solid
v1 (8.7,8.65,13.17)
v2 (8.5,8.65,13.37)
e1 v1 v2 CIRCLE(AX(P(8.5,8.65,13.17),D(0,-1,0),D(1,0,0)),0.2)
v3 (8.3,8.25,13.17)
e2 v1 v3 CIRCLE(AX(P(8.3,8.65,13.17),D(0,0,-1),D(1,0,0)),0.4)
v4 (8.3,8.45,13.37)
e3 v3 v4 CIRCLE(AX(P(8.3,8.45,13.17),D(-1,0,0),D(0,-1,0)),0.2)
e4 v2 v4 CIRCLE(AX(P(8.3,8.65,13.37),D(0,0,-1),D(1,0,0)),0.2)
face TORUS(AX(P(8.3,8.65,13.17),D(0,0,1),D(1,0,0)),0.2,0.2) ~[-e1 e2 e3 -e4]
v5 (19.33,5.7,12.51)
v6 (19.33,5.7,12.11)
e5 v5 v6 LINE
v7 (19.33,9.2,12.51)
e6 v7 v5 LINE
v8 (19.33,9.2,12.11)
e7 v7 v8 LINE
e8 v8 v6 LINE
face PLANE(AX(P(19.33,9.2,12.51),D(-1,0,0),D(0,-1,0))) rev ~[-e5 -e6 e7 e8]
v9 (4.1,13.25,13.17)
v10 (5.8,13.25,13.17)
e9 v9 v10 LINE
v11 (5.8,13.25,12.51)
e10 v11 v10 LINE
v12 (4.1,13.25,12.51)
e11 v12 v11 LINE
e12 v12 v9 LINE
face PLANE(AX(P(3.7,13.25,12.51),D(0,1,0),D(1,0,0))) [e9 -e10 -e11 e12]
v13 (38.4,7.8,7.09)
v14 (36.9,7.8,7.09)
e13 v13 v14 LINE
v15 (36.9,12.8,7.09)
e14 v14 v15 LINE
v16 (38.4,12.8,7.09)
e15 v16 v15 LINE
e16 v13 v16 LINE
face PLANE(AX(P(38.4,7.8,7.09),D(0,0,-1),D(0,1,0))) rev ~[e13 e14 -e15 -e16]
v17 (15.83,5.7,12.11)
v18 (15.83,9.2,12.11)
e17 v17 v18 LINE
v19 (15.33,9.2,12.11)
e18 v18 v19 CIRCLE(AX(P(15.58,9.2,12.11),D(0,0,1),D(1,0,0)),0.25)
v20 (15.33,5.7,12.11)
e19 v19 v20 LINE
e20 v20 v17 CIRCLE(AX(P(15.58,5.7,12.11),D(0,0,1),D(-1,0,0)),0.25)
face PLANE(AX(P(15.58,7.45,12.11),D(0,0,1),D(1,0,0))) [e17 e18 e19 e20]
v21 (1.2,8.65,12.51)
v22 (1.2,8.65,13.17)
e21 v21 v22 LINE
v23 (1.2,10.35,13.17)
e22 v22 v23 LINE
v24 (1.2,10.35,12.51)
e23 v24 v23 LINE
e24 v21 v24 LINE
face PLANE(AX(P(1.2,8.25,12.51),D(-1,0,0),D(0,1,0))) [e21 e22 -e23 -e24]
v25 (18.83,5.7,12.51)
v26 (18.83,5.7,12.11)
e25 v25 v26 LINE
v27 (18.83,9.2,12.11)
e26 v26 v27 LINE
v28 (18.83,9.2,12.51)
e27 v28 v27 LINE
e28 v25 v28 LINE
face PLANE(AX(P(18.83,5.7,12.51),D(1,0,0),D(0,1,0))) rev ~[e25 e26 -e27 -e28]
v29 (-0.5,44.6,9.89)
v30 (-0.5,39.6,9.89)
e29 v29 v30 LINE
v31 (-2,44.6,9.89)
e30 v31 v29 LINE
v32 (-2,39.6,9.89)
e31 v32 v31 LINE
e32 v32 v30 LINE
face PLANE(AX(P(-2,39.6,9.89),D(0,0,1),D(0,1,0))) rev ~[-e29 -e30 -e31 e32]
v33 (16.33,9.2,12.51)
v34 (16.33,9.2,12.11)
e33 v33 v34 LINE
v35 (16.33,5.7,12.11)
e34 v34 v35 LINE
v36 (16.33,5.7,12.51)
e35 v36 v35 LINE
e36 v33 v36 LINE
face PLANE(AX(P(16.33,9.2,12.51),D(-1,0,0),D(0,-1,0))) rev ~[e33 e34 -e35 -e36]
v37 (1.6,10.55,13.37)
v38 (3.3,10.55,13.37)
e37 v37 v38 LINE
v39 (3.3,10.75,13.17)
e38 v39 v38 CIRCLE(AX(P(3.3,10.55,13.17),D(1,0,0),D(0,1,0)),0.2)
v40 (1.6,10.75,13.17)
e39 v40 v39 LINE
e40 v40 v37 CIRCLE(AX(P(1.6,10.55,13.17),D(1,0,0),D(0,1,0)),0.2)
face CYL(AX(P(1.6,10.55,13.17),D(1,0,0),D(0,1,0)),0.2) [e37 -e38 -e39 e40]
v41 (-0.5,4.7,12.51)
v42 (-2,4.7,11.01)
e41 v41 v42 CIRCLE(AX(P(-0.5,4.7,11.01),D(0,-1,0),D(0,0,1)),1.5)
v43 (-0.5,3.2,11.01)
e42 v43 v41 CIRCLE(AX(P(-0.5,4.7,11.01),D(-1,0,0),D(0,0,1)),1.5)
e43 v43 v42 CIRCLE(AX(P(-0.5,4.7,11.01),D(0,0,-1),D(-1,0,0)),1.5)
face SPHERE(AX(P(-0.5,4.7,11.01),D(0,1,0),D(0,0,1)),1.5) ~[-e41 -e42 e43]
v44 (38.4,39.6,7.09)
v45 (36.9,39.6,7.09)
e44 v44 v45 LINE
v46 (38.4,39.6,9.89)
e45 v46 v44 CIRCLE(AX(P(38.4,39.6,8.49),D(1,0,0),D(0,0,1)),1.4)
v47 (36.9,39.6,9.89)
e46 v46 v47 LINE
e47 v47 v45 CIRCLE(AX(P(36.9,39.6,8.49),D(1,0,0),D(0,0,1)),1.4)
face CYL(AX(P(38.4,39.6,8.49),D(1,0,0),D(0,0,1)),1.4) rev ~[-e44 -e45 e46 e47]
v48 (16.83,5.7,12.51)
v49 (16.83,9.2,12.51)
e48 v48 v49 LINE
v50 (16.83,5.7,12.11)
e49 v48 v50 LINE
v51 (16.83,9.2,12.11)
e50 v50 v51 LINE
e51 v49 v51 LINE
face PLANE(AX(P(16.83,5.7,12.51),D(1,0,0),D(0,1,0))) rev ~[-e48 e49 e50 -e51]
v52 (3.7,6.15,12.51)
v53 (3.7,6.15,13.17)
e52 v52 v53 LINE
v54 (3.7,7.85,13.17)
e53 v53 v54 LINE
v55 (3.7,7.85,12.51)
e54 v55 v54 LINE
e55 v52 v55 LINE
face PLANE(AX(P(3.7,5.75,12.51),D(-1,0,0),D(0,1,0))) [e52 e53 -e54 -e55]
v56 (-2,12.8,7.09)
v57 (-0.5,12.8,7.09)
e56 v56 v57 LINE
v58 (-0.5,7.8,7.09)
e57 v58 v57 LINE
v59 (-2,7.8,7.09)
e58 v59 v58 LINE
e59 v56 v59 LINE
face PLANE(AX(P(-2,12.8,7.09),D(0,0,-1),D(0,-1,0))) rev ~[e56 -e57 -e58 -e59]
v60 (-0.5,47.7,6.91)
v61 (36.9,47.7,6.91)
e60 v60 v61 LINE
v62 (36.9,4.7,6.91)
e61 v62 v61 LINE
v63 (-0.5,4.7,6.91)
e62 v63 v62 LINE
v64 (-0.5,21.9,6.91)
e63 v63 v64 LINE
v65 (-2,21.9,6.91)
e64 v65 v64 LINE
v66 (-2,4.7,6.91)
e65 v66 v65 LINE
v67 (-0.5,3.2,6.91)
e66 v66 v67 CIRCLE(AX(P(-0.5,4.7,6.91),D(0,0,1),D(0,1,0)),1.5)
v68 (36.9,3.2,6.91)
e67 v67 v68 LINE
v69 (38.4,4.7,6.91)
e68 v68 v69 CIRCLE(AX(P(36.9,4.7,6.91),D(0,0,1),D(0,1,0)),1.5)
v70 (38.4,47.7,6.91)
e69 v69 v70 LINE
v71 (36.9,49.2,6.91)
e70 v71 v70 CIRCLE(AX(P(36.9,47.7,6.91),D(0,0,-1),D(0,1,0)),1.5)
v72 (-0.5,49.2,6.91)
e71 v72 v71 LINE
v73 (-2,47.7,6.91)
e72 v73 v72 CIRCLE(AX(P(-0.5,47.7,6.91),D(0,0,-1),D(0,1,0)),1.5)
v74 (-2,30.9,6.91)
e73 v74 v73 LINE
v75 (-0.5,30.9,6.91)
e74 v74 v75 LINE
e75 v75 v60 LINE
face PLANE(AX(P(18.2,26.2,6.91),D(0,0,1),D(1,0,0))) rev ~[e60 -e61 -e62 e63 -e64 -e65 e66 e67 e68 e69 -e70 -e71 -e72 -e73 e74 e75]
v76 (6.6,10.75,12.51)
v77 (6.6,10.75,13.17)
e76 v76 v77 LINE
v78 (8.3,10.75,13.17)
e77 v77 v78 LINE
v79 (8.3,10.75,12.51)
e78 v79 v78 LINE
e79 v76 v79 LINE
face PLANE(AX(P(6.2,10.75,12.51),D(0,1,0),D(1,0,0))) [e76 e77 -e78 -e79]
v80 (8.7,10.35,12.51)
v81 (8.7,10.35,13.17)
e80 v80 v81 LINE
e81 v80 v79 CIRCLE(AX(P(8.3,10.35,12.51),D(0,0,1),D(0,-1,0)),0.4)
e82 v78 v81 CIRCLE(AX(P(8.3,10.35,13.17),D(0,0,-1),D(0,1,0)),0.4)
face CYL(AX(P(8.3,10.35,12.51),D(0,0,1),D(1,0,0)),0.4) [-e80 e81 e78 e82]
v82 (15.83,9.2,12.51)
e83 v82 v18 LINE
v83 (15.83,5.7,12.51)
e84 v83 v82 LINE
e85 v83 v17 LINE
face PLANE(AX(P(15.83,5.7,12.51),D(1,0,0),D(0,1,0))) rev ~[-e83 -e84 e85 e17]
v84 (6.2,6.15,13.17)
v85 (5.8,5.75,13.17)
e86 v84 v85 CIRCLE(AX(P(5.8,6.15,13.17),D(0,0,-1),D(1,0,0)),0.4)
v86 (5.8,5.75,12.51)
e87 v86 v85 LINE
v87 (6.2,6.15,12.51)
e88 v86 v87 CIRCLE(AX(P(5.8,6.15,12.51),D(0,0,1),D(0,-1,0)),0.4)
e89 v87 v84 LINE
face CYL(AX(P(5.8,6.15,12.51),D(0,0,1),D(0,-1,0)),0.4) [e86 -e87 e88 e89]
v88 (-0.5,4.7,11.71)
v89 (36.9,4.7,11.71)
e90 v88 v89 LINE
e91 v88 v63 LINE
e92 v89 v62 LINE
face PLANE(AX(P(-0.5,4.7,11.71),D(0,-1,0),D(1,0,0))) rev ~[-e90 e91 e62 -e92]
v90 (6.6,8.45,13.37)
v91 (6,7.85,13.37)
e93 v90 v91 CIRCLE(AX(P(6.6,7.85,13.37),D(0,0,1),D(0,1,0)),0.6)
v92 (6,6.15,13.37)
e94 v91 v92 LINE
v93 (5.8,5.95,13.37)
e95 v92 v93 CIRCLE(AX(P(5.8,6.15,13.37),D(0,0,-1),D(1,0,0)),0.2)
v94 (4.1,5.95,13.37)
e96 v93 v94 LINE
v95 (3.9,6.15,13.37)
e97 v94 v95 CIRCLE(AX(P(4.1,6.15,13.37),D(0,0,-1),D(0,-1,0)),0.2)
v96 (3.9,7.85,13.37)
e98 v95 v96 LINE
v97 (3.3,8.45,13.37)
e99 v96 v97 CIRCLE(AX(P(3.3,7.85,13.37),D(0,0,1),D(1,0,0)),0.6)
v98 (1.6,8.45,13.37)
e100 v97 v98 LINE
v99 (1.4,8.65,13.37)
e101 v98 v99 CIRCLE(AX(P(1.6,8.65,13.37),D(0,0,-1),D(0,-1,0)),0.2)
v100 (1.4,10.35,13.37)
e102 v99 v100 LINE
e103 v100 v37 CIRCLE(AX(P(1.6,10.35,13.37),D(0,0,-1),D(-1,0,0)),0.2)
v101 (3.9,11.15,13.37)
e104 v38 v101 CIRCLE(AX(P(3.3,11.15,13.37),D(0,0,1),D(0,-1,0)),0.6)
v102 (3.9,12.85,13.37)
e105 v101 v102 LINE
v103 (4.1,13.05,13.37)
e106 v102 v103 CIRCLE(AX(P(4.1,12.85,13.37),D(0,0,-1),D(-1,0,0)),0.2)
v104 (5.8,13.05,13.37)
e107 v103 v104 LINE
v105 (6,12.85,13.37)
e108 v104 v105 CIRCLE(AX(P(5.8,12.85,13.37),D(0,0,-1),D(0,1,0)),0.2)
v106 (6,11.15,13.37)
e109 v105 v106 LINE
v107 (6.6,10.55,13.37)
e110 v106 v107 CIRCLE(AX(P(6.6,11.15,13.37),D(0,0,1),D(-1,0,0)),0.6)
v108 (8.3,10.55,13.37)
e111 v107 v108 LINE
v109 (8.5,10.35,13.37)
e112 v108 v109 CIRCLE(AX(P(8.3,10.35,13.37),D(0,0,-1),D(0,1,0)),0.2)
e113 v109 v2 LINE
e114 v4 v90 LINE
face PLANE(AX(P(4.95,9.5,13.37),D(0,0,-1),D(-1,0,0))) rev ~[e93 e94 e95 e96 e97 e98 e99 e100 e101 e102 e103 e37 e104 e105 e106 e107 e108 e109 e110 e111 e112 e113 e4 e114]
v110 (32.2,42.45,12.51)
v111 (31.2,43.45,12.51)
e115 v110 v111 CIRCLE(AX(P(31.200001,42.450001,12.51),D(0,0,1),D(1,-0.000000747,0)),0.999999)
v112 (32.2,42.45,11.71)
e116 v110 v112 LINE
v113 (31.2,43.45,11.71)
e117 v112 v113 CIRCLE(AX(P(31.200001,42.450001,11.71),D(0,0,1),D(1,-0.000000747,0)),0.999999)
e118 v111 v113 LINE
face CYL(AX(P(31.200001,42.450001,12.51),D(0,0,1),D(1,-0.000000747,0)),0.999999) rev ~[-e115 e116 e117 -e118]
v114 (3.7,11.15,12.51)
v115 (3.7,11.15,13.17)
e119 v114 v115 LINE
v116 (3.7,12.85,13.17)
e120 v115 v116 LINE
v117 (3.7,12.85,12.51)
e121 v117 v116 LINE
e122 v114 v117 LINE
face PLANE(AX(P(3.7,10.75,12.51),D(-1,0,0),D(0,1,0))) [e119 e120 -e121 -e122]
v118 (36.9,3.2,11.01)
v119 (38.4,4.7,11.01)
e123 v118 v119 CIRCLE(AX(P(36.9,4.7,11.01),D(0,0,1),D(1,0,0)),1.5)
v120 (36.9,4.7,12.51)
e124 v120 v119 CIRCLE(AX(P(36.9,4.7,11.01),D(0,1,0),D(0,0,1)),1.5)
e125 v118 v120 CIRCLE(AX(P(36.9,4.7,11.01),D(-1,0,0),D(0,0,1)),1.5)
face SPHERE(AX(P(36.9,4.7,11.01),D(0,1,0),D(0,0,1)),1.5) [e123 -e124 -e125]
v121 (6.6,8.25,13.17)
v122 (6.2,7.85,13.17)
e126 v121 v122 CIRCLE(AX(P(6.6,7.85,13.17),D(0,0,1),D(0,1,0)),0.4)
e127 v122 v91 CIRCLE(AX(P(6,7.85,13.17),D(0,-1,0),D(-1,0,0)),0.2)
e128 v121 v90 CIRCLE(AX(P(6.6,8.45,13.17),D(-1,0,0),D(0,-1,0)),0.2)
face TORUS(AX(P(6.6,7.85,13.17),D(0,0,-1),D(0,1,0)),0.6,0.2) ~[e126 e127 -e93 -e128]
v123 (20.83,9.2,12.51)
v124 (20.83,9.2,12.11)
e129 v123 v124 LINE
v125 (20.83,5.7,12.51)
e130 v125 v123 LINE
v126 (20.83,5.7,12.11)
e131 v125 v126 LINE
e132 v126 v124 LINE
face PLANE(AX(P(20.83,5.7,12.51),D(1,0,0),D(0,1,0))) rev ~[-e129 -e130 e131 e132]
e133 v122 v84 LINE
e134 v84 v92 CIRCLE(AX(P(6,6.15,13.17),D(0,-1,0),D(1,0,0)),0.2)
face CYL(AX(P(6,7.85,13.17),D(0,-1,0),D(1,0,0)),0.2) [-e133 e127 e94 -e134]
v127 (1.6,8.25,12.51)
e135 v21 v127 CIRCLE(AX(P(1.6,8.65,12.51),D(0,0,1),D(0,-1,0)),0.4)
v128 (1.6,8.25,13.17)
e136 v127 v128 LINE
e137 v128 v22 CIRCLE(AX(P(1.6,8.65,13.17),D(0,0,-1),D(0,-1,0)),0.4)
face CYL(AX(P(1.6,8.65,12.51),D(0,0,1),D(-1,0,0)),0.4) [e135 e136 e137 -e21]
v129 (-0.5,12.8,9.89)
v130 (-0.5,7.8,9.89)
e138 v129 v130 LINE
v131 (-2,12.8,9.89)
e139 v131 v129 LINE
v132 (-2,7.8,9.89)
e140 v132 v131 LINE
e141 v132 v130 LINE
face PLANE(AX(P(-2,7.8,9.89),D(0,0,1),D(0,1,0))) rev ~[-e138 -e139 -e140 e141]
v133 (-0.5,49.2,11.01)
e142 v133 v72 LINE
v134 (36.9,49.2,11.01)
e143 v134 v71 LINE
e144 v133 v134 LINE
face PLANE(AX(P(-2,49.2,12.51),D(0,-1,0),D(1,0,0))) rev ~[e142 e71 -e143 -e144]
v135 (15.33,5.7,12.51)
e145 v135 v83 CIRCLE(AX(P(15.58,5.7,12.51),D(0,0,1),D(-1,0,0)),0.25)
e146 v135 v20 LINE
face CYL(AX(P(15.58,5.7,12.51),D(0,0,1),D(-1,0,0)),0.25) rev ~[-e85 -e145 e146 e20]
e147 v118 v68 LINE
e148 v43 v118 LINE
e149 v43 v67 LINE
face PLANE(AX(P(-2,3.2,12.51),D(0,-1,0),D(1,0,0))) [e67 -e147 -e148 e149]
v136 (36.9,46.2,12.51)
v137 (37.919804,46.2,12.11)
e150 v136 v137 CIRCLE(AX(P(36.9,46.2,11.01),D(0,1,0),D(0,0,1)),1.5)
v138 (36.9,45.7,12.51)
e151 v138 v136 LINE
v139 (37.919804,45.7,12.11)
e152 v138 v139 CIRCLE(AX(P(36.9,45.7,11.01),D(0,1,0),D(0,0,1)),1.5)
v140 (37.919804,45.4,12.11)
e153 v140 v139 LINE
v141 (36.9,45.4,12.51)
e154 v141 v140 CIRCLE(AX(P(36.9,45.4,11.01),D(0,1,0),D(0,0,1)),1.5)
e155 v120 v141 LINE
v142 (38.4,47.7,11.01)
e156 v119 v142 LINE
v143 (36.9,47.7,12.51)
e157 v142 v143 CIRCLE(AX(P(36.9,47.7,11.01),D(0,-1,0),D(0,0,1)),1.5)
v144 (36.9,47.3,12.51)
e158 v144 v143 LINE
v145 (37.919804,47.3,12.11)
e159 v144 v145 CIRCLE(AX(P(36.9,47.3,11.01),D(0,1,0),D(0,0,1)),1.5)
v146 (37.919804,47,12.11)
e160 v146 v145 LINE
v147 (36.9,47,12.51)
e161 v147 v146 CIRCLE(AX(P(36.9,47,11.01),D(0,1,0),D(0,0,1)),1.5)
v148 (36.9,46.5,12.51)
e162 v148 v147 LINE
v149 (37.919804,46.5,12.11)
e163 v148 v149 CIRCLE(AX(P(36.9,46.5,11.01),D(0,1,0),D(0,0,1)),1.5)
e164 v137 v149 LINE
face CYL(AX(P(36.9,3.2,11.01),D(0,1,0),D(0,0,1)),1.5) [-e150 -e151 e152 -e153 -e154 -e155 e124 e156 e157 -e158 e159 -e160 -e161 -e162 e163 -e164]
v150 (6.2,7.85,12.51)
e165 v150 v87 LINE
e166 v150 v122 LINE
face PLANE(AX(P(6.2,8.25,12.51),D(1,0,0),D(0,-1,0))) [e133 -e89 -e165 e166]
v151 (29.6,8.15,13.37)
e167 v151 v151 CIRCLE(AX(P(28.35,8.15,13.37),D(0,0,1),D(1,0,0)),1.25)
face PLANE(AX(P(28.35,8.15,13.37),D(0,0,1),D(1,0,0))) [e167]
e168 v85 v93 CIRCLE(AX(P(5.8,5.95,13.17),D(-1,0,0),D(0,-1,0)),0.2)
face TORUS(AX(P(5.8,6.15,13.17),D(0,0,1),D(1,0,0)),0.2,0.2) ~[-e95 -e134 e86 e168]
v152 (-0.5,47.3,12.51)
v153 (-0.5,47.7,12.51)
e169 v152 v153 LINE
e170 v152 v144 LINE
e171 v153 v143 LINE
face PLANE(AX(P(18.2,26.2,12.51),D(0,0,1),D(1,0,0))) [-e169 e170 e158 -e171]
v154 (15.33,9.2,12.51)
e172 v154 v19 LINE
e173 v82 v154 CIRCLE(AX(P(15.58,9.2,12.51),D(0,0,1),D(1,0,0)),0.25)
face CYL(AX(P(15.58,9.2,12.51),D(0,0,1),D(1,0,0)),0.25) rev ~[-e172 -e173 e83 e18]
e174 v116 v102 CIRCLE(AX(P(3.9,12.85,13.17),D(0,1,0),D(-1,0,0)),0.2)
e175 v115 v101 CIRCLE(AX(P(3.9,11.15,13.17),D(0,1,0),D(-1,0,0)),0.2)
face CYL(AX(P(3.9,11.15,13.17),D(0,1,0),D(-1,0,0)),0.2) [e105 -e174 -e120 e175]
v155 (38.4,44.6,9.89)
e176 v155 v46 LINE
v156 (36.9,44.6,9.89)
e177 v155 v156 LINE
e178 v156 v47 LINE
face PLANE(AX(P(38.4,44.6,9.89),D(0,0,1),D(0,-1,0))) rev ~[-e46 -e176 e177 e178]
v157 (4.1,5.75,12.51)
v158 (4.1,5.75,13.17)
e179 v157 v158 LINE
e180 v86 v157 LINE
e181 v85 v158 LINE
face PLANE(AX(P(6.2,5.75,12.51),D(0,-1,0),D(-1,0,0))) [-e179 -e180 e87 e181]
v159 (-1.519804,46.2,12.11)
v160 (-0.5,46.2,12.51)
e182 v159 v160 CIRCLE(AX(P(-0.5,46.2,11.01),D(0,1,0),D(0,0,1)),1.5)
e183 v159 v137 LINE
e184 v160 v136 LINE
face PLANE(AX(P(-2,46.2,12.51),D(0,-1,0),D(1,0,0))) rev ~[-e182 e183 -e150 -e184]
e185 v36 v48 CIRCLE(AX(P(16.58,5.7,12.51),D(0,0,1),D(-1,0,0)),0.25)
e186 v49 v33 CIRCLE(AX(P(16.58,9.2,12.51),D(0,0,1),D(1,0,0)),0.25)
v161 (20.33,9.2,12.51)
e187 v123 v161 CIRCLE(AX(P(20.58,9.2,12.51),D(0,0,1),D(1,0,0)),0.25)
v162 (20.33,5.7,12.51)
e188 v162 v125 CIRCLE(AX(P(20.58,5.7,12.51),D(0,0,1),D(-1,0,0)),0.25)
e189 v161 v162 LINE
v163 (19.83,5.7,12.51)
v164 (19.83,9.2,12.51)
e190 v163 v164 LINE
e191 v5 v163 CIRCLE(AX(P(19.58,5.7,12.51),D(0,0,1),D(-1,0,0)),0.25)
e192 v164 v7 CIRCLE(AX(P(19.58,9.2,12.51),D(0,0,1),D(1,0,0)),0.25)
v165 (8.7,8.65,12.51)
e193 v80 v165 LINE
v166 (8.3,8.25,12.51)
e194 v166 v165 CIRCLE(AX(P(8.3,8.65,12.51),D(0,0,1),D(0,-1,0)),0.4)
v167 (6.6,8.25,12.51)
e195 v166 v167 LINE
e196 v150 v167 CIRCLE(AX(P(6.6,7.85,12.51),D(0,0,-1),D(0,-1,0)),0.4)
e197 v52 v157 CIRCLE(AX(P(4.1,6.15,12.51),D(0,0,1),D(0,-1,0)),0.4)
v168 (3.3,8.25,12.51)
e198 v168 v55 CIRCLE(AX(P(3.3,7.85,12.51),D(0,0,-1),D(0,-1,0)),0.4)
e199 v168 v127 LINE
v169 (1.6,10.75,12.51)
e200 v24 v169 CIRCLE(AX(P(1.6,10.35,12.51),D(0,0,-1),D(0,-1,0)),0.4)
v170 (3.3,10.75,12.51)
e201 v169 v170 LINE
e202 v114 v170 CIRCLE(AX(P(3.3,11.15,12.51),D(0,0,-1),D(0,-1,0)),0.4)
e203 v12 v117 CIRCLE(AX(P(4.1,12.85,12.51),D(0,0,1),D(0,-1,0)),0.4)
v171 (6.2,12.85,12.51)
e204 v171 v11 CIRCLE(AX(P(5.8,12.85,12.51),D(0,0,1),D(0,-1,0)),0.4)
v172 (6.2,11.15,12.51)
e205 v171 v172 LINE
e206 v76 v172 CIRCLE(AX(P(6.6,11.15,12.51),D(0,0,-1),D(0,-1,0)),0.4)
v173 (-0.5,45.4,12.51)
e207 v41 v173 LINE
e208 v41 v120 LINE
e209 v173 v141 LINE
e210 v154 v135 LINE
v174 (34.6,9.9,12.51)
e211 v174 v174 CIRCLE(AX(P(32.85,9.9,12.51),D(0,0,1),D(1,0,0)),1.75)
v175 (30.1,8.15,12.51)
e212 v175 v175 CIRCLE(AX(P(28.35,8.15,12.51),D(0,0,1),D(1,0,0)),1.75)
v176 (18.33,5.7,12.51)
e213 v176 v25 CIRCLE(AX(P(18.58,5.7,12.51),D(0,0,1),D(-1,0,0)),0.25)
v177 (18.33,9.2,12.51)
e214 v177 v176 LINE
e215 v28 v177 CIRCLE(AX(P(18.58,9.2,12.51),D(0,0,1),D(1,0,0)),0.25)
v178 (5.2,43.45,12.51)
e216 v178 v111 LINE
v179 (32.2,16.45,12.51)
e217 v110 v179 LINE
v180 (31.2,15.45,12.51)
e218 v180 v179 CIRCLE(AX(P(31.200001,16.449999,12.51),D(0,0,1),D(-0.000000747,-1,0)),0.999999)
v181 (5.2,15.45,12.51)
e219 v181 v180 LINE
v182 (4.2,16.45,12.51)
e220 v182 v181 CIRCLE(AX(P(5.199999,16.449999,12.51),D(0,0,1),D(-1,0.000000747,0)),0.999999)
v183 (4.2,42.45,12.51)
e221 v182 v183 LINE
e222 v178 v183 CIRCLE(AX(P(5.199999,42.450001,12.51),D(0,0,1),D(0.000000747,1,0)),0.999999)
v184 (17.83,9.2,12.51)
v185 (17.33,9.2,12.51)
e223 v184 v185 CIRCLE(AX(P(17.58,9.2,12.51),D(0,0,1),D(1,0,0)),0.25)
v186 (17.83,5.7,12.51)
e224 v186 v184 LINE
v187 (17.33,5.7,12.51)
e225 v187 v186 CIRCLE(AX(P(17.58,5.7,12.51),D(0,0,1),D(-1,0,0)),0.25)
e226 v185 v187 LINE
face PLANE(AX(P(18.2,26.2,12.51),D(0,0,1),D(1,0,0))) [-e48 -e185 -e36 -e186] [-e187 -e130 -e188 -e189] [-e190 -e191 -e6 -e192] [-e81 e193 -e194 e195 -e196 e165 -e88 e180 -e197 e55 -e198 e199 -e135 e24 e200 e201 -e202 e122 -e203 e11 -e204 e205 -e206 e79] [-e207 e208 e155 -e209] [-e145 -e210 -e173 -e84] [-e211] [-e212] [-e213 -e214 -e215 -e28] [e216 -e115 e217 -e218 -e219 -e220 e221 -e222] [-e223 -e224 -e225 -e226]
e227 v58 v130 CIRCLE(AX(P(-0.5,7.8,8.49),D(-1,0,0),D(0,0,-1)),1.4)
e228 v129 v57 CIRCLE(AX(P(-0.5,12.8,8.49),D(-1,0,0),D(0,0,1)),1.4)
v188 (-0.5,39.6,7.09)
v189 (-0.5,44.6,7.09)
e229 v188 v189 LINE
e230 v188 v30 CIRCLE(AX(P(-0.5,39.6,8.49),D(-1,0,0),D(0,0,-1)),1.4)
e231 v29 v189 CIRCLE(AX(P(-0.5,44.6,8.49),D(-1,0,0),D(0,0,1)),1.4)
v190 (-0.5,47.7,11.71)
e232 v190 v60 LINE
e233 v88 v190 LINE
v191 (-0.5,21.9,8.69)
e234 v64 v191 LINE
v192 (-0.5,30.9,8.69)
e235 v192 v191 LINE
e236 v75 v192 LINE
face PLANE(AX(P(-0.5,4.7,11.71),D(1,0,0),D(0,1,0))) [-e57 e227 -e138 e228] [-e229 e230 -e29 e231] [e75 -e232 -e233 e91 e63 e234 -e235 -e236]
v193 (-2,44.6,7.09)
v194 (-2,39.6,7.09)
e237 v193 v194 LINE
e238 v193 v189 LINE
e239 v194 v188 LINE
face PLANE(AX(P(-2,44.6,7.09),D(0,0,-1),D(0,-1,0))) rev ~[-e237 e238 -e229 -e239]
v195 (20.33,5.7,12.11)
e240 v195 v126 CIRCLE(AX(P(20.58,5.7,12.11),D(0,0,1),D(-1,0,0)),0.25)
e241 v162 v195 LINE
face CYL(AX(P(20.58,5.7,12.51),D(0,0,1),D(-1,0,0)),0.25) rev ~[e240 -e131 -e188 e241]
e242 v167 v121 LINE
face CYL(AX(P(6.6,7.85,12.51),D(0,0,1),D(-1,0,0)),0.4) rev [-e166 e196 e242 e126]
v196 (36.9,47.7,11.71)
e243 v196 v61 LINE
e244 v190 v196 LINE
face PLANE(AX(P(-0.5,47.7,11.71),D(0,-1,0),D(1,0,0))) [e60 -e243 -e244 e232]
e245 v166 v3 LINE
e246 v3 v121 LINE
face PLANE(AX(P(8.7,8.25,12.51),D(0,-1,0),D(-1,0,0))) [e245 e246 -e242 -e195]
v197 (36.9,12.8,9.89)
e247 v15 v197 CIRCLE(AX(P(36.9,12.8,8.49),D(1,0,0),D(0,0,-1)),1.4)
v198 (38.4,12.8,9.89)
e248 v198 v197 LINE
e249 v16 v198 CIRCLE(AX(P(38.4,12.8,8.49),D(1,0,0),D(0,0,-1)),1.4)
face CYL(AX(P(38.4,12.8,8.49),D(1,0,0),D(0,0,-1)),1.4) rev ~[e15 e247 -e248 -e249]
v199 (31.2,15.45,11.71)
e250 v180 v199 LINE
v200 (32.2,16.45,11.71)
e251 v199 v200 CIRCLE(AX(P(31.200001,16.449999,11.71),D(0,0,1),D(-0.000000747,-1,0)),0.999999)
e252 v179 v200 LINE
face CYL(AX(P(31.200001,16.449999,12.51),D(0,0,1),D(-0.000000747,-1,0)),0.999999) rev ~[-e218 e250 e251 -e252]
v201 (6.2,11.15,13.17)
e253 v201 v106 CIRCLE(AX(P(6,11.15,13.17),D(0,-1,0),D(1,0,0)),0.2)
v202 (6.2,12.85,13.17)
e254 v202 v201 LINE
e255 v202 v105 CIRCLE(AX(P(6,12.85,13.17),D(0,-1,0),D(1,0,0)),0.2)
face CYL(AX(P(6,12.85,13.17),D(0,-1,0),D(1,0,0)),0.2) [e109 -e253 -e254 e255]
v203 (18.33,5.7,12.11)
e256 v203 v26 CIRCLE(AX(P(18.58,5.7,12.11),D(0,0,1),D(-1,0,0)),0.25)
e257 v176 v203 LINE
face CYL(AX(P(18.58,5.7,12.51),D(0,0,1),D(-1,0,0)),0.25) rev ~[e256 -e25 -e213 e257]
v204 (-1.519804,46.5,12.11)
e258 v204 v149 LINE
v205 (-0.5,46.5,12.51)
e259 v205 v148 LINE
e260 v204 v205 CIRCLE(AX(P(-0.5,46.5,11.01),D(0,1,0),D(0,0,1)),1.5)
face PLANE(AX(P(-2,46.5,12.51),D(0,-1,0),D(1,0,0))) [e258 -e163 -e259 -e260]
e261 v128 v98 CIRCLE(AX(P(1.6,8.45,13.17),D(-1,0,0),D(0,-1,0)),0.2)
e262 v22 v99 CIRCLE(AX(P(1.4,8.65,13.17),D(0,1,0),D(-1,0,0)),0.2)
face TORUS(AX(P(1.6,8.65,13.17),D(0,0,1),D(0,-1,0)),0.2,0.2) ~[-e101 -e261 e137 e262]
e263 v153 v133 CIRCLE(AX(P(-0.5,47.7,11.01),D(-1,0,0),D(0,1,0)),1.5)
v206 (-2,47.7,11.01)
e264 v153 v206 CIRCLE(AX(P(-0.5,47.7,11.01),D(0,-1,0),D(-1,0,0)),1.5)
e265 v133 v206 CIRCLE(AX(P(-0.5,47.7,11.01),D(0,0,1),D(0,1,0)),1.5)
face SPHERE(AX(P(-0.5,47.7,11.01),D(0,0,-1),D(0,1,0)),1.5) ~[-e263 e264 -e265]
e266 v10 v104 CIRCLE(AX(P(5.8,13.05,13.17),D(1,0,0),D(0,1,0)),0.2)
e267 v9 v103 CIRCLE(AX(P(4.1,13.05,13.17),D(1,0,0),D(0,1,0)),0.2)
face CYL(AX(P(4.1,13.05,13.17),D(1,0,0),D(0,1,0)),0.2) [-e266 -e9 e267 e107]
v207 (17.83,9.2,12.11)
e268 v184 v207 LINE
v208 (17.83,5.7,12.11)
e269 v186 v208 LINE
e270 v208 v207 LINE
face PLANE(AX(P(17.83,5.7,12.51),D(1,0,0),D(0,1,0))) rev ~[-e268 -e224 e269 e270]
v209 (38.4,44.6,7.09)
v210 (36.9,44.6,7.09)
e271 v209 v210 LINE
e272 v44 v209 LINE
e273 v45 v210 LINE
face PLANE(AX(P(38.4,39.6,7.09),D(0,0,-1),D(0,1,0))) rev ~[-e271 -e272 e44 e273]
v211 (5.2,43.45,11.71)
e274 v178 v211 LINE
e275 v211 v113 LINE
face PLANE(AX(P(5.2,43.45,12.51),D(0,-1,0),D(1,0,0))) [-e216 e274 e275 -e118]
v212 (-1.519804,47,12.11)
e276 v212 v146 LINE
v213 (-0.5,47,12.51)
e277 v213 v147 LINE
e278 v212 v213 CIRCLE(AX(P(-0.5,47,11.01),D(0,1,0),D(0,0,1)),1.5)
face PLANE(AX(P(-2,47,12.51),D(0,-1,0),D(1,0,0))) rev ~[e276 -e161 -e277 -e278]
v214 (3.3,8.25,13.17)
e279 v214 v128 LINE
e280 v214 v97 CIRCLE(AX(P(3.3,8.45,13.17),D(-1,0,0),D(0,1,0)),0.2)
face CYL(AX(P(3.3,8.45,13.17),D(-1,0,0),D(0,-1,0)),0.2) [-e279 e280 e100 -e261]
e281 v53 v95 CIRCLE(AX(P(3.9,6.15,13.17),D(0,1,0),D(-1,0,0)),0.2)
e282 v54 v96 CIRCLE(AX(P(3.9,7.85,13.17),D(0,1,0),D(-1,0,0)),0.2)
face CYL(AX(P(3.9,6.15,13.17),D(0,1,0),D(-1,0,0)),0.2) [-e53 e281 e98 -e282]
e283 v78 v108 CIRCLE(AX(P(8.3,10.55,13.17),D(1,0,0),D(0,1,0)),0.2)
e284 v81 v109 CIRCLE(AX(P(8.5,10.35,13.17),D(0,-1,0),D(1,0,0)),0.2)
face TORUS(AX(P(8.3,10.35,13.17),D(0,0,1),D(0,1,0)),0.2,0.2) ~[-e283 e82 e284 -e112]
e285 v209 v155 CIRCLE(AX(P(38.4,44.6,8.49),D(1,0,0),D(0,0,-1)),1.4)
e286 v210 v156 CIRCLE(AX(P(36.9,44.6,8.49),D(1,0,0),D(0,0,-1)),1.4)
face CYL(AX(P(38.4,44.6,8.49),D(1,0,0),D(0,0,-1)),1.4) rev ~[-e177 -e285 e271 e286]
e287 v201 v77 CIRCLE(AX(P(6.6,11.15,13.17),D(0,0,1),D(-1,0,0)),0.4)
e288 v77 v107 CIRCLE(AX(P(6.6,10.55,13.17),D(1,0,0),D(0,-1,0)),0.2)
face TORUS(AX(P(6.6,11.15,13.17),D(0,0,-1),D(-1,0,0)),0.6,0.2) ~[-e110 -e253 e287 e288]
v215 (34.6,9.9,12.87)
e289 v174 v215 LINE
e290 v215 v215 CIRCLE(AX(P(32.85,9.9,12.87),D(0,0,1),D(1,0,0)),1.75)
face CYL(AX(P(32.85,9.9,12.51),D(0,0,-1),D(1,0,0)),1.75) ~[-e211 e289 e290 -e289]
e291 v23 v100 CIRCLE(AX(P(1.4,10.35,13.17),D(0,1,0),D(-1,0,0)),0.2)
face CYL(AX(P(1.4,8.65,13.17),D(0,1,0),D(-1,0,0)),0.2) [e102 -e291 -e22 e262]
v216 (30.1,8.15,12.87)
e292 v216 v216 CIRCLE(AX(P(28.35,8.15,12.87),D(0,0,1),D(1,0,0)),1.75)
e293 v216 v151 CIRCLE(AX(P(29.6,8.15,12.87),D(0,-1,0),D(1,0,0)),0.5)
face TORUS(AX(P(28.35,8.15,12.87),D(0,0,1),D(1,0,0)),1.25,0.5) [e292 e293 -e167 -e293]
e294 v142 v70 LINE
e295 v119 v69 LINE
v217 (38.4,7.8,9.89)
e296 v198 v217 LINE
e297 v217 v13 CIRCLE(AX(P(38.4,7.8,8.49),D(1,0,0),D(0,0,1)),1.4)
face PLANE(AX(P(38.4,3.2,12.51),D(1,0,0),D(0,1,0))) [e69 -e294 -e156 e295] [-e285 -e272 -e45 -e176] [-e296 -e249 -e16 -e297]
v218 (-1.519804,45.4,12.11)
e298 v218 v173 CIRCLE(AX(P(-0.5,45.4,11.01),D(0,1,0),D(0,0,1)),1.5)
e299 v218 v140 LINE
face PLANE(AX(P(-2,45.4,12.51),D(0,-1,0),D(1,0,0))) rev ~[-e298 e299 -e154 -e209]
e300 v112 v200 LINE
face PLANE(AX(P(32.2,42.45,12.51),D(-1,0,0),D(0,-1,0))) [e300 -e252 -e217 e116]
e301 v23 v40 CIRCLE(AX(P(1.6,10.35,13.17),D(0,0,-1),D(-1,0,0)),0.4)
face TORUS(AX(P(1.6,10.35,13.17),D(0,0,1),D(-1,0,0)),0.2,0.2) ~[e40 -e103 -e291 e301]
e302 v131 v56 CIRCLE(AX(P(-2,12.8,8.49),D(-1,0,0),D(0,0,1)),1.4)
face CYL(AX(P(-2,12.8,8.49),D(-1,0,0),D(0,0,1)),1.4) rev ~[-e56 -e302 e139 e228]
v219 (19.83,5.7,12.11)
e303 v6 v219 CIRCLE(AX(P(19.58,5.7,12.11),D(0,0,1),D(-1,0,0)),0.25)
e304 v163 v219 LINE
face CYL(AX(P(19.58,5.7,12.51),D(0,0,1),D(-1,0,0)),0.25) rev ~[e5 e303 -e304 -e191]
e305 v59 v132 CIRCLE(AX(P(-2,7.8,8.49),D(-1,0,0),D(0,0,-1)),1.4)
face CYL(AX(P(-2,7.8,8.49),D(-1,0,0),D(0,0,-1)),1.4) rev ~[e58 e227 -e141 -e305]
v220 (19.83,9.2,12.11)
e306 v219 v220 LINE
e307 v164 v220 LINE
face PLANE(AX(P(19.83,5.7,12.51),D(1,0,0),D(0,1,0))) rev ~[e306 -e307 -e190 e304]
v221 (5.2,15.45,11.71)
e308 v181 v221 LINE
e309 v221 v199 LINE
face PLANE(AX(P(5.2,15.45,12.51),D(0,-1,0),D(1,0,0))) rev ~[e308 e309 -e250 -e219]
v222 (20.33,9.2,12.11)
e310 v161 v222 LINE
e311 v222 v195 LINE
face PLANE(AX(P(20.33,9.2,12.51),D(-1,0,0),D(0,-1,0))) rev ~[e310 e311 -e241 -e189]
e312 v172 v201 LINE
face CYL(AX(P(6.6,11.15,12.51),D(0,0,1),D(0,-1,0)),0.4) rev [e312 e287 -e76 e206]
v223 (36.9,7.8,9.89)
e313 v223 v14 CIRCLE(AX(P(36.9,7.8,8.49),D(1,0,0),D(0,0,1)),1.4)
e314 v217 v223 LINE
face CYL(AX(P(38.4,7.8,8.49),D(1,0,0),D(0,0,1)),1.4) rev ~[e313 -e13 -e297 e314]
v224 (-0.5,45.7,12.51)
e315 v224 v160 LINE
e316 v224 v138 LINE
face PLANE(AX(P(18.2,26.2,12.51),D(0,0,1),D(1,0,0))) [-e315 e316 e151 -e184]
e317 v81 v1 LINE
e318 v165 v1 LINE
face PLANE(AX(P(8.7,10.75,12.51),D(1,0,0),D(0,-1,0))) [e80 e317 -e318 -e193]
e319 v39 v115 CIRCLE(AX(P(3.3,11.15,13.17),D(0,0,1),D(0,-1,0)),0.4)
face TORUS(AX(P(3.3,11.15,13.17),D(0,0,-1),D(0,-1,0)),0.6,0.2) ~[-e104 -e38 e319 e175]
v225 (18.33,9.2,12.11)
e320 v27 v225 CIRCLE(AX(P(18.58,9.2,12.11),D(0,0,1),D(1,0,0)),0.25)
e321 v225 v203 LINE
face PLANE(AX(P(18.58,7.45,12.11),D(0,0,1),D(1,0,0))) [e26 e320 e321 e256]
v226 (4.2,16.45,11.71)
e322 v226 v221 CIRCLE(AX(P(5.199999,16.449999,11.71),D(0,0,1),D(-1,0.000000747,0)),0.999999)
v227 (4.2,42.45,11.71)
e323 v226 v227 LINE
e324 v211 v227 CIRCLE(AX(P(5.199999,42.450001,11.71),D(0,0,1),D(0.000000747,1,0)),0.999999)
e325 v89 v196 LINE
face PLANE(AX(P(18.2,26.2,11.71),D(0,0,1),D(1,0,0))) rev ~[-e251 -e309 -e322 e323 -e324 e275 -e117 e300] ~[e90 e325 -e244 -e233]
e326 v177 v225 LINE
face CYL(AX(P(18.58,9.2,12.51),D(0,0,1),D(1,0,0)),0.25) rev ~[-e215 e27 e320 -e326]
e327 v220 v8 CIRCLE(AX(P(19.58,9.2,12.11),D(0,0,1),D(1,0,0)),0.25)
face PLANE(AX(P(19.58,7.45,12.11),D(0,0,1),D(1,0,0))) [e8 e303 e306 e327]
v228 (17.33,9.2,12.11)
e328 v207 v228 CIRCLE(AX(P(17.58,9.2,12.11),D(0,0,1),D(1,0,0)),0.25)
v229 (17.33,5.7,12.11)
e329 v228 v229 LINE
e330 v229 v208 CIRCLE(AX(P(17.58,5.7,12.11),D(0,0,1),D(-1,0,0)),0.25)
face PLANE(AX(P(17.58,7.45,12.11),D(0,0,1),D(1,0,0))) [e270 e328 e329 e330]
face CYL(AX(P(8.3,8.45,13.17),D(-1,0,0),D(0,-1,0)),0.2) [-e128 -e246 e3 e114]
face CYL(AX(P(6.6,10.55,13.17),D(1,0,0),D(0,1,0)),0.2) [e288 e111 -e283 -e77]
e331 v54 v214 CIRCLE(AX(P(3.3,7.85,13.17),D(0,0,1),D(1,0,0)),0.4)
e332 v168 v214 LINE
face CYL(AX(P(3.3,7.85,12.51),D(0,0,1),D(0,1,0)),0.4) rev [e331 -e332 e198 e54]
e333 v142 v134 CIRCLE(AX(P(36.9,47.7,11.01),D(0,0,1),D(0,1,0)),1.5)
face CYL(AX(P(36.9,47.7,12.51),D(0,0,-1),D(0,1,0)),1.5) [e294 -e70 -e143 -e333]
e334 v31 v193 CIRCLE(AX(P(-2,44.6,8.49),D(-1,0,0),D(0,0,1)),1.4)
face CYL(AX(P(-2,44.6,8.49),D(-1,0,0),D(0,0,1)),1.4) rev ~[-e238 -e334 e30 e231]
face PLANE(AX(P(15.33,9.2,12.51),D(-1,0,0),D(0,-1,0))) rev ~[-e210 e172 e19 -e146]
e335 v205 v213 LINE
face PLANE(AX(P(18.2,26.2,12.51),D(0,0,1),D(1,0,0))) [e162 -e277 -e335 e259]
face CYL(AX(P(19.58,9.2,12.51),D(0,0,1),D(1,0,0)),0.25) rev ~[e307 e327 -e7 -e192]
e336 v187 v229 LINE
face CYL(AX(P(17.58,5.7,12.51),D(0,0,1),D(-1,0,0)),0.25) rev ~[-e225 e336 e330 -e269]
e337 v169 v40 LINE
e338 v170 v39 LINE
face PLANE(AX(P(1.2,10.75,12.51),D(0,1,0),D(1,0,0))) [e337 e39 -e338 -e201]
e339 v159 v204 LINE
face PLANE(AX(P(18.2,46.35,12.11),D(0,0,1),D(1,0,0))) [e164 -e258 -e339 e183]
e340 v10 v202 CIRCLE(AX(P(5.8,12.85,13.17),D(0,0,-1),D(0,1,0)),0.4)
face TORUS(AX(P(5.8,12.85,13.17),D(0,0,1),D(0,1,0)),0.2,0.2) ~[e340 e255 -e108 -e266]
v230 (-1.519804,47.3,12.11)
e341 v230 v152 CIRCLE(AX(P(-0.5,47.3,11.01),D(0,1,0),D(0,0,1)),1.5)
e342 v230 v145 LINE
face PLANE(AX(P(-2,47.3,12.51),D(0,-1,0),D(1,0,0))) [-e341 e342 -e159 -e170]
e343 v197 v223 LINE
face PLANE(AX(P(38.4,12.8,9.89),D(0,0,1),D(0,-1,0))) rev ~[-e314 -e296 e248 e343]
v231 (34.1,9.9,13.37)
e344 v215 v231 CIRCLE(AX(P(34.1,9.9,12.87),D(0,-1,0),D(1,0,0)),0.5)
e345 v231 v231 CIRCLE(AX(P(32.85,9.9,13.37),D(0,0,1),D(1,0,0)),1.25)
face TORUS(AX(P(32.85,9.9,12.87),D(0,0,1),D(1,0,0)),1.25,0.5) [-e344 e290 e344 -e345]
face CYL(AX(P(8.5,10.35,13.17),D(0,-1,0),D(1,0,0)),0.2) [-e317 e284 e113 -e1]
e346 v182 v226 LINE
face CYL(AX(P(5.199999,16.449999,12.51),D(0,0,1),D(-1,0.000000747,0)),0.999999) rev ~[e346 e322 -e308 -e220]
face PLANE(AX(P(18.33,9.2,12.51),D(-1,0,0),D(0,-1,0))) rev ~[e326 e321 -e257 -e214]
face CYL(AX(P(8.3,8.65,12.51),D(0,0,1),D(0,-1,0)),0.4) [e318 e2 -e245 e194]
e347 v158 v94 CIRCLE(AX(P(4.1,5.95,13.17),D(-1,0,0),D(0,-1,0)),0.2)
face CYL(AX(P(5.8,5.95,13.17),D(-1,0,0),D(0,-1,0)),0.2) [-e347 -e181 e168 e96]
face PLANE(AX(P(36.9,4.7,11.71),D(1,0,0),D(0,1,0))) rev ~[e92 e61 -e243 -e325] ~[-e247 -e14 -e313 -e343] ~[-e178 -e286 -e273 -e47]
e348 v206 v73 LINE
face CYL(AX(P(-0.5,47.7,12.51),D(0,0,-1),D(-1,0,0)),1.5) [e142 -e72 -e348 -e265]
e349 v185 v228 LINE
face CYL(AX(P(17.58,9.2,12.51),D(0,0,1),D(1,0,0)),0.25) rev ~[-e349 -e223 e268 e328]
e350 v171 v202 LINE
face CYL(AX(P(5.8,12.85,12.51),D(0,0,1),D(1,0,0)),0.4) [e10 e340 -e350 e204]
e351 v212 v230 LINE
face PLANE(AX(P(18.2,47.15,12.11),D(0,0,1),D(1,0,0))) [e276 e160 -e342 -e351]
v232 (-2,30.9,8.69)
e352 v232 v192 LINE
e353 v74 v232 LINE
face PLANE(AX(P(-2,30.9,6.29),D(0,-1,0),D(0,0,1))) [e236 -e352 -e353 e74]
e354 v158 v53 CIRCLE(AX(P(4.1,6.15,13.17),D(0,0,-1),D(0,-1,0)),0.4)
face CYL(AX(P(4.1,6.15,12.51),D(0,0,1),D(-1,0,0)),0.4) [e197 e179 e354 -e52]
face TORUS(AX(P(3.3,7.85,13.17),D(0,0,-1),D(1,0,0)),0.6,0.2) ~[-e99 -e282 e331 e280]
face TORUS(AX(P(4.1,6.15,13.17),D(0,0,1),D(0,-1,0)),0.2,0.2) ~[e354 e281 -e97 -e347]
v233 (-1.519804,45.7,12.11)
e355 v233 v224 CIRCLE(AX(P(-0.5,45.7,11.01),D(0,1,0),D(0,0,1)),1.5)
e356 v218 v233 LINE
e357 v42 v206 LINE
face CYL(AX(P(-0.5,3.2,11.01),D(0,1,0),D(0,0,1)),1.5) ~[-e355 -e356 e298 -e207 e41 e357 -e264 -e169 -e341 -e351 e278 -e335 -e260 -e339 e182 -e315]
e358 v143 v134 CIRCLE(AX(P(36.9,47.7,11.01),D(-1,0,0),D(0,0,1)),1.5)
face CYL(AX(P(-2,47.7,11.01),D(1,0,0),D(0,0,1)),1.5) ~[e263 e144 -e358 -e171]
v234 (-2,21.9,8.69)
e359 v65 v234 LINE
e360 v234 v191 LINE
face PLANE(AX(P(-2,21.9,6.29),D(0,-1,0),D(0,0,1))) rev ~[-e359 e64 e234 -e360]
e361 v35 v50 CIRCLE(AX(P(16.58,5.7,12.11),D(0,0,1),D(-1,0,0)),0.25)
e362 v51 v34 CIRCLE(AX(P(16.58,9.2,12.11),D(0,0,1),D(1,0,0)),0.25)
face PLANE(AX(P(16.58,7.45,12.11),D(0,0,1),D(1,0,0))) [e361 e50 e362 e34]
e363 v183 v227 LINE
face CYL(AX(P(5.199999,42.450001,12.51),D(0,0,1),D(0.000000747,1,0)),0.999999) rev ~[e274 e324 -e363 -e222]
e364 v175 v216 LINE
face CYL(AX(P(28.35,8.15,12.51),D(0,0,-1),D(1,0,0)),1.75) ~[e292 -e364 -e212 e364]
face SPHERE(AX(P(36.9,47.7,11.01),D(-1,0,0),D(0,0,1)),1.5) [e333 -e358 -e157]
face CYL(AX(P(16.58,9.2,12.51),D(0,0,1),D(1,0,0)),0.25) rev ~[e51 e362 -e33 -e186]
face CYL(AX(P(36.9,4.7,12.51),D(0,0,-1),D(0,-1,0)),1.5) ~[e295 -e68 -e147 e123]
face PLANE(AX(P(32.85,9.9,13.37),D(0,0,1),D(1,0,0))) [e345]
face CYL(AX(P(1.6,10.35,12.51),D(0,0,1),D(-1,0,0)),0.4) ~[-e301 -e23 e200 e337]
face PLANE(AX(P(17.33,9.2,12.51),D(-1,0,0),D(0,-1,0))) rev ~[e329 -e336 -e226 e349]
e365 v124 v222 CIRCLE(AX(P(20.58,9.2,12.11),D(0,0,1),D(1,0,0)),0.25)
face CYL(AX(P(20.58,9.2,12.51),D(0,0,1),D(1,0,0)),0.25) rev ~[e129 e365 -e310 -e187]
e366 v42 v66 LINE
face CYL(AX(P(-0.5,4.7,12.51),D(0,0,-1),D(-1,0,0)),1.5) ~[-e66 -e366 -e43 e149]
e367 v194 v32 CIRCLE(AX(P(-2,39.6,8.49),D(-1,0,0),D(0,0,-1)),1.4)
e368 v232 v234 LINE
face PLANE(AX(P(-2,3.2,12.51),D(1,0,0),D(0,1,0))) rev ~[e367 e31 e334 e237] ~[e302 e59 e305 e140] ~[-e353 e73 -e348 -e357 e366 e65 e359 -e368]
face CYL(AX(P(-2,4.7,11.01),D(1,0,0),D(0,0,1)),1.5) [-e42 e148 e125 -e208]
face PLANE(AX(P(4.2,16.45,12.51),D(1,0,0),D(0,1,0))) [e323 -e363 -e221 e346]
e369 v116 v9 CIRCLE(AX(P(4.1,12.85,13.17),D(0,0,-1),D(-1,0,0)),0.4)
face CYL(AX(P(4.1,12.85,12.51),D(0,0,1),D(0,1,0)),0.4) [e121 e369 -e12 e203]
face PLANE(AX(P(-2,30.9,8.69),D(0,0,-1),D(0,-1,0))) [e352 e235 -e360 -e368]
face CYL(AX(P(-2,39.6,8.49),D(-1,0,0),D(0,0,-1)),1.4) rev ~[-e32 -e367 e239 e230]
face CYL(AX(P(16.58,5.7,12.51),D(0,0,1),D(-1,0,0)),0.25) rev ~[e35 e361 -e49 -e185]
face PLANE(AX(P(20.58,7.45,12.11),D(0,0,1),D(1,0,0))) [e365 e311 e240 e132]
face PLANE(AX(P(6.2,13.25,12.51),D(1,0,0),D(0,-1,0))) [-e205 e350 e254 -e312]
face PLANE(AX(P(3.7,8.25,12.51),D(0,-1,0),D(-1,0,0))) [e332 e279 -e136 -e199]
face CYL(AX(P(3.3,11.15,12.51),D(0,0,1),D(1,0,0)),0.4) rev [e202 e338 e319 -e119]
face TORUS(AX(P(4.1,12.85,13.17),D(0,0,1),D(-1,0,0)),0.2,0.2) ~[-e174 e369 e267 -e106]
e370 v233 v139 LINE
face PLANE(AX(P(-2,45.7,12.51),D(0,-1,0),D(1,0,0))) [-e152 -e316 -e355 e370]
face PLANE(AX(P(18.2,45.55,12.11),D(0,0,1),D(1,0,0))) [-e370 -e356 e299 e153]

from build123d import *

# Parameters (mm, degrees)
SKETCH005_W     = 40.4
SKETCH005_H     = 46
PAD003_DEPTH    = 5.6
SKETCH006_W     = 9
SKETCH006_H     = 2.4
POCKET002_DEPTH = 2
SKETCH007_W     = 37.4
SKETCH007_H     = 43
POCKET003_DEPTH = 5.62
POCKET004_DEPTH = 1
POCKET007_DEPTH = 2
POCKET008_DEPTH = 2
SKETCH024_R     = 1.75
PAD006_DEPTH    = 0.86
FILLET_R        = 0.4
FILLET001_R     = 0.5
FILLET002_R     = 0.2
FILLET003_R     = 1.5
SKETCH014_W     = 40.4
SKETCH014_H     = 0.3
POCKET016_DEPTH = 0.4


with BuildPart() as part:
    # Sketch005 → Pad003 (new body)
    with BuildSketch(Plane.XY):
        with Locations((18.2, 26.2)):
            Rectangle(SKETCH005_W, SKETCH005_H)
    extrude(amount=-PAD003_DEPTH)

    # Sketch006 (on Face4 of Pad003) → Pocket002 (cut)
    with BuildSketch(Plane(origin=(-2, 0, 0), x_dir=(0, -1, 0), z_dir=(-1, 0, 0))):
        with Locations((-26.4, -5.02)):
            Rectangle(SKETCH006_W, SKETCH006_H)
    extrude(amount=-POCKET002_DEPTH, mode=Mode.SUBTRACT)

    # Sketch007 → Pocket003 (cut)
    with BuildSketch(Plane.XY.offset(-0.8)):
        with Locations((18.2, 26.2)):
            Rectangle(SKETCH007_W, SKETCH007_H)
    extrude(amount=-POCKET003_DEPTH, mode=Mode.SUBTRACT)

    # Sketch008 (on Face4 of Pocket003) → Pocket004 (cut)
    with BuildSketch(Plane.XY):
        with BuildLine():
            ThreePointArc((31.2, 15.45), (31.907107, 15.742893), (32.2, 16.45))
            Line((32.2, 42.45), (32.2, 16.45))
            ThreePointArc((32.2, 42.45), (31.907107, 43.157107), (31.2, 43.45))
            Line((5.2, 43.45), (31.2, 43.45))
            ThreePointArc((5.2, 43.45), (4.492893, 43.157107), (4.2, 42.45))
            Line((4.2, 16.45), (4.2, 42.45))
            ThreePointArc((4.2, 16.45), (4.492893, 15.742893), (5.2, 15.45))
            Line((5.2, 15.45), (31.2, 15.45))
        make_face()
    extrude(amount=-POCKET004_DEPTH, mode=Mode.SUBTRACT)

    # Sketch012 (on Face2 of Pocket004) → Pocket007 (cut)
    with BuildSketch(Plane(origin=(-2, 0, 0), x_dir=(0, -1, 0), z_dir=(-1, 0, 0))):
        with BuildLine():
            ThreePointArc((-44.6, -2.62), (-46, -4.02), (-44.6, -5.42))
            Line((-44.6, -5.42), (-39.6, -5.42))
            ThreePointArc((-39.6, -5.42), (-38.2, -4.02), (-39.6, -2.62))
            Line((-39.6, -2.62), (-44.6, -2.62))
        make_face()
        with BuildLine():
            ThreePointArc((-12.8, -2.62), (-14.2, -4.02), (-12.8, -5.42))
            Line((-12.8, -5.42), (-7.8, -5.42))
            ThreePointArc((-7.8, -5.42), (-6.4, -4.02), (-7.8, -2.62))
            Line((-7.8, -2.62), (-12.8, -2.62))
        make_face()
    extrude(amount=-POCKET007_DEPTH, mode=Mode.SUBTRACT)

    # Sketch013 (on Face3 of Pocket007) → Pocket008 (cut)
    with BuildSketch(Plane.YZ.offset(38.4)):
        with BuildLine():
            ThreePointArc((39.6, -2.62), (38.2, -4.02), (39.6, -5.42))
            Line((39.6, -5.42), (44.6, -5.42))
            ThreePointArc((44.6, -5.42), (46, -4.02), (44.6, -2.62))
            Line((44.6, -2.62), (39.6, -2.62))
        make_face()
        with BuildLine():
            ThreePointArc((7.8, -2.62), (6.4, -4.02), (7.8, -5.42))
            Line((7.8, -5.42), (12.8, -5.42))
            ThreePointArc((12.8, -5.42), (14.2, -4.02), (12.8, -2.62))
            Line((12.8, -2.62), (7.8, -2.62))
        make_face()
    extrude(amount=-POCKET008_DEPTH, mode=Mode.SUBTRACT)

    # Sketch024 → Pad006 (join)
    with BuildSketch(Plane.XY):
        with Locations((28.35, 8.15)):
            Circle(SKETCH024_R)
        with Locations((32.85, 9.9)):
            Circle(SKETCH024_R)
        Polygon((1.2, 10.75), (3.7, 10.75), (3.7, 13.25), (6.2, 13.25), (6.2, 10.75), (8.7, 10.75), (8.7, 8.25), (6.2, 8.25), (6.2, 5.75), (3.7, 5.75), (3.7, 8.25), (1.2, 8.25), align=None)
    extrude(amount=PAD006_DEPTH)

    # Fillet
    fillet_edges = [part.edges().sort_by_distance(p)[0] for p in [
        (1.2, 8.25, 0.43),
        (3.7, 8.25, 0.43),
        (3.7, 5.75, 0.43),
        (6.2, 5.75, 0.43),
        (1.2, 10.75, 0.43),
        (3.7, 10.75, 0.43),
        (3.7, 13.25, 0.43),
        (6.2, 13.25, 0.43),
        (6.2, 10.75, 0.43),
        (8.7, 10.75, 0.43),
        (8.7, 8.25, 0.43),
        (6.2, 8.25, 0.43),
    ]]
    fillet(fillet_edges, radius=FILLET_R)

    # Fillet001
    fillet001_edges = [part.edges().sort_by_distance(p)[0] for p in [
        (31.1, 9.9, 0.86),
        (26.6, 8.15, 0.86),
    ]]
    fillet(fillet001_edges, radius=FILLET001_R)

    # Fillet002
    fillet002_edges = [part.edges().sort_by_distance(p)[0] for p in [
        (3.7, 12, 0.86),
        (4.95, 13.25, 0.86),
        (6.2, 12, 0.86),
        (7.45, 10.75, 0.86),
        (8.7, 9.5, 0.86),
        (7.45, 8.25, 0.86),
        (6.2, 7, 0.86),
        (4.95, 5.75, 0.86),
        (3.7, 7, 0.86),
        (2.45, 8.25, 0.86),
        (1.2, 9.5, 0.86),
        (2.45, 10.75, 0.86),
    ]]
    fillet(fillet002_edges, radius=FILLET002_R)

    # Fillet003
    fillet003_edges = [part.edges().sort_by_distance(p)[0] for p in [
        (-2, 49.2, -2.8),
        (18.2, 49.2, 0),
        (-2, 26.2, 0),
        (38.4, 26.2, 0),
        (18.2, 3.2, 0),
        (-2, 3.2, -2.8),
        (38.4, 3.2, -2.8),
        (38.4, 49.2, -2.8),
    ]]
    fillet(fillet003_edges, radius=FILLET003_R)

    # Sketch014 (on Face4 of Pocket004) → Pocket016 (cut)
    with BuildSketch(Plane(origin=(-2, 0, 0), x_dir=(1, 0, 0), z_dir=(0, 0, 1))):
        with BuildLine():
            ThreePointArc((17.83, 9.2), (17.58, 9.45), (17.33, 9.2))
            Line((17.33, 9.2), (17.33, 5.7))
            ThreePointArc((17.33, 5.7), (17.58, 5.45), (17.83, 5.7))
            Line((17.83, 5.7), (17.83, 9.2))
        make_face()
        with BuildLine():
            ThreePointArc((18.83, 9.2), (18.58, 9.45), (18.33, 9.2))
            Line((18.33, 9.2), (18.33, 5.7))
            ThreePointArc((18.33, 5.7), (18.58, 5.45), (18.83, 5.7))
            Line((18.83, 5.7), (18.83, 9.2))
        make_face()
        with BuildLine():
            ThreePointArc((19.83, 9.2), (19.58, 9.45), (19.33, 9.2))
            Line((19.33, 9.2), (19.33, 5.7))
            ThreePointArc((19.33, 5.7), (19.58, 5.45), (19.83, 5.7))
            Line((19.83, 5.7), (19.83, 9.2))
        make_face()
        with BuildLine():
            ThreePointArc((20.83, 9.2), (20.58, 9.45), (20.33, 9.2))
            Line((20.33, 9.2), (20.33, 5.7))
            ThreePointArc((20.33, 5.7), (20.58, 5.45), (20.83, 5.7))
            Line((20.83, 5.7), (20.83, 9.2))
        make_face()
        with BuildLine():
            ThreePointArc((21.83, 9.2), (21.58, 9.45), (21.33, 9.2))
            Line((21.33, 9.2), (21.33, 5.7))
            ThreePointArc((21.33, 5.7), (21.58, 5.45), (21.83, 5.7))
            Line((21.83, 5.7), (21.83, 9.2))
        make_face()
        with BuildLine():
            ThreePointArc((22.83, 9.2), (22.58, 9.45), (22.33, 9.2))
            Line((22.33, 9.2), (22.33, 5.7))
            ThreePointArc((22.33, 5.7), (22.58, 5.45), (22.83, 5.7))
            Line((22.83, 5.7), (22.83, 9.2))
        make_face()
        with Locations((20.2, 46.35)):
            Rectangle(SKETCH014_W, SKETCH014_H)
        with Locations((20.2, 45.55)):
            Rectangle(SKETCH014_W, SKETCH014_H)
        with Locations((20.2, 47.15)):
            Rectangle(SKETCH014_W, SKETCH014_H)
    extrude(amount=-POCKET016_DEPTH, mode=Mode.SUBTRACT)


with BuildPart() as part_1:
    # Body003 placement: moved
    add(part.part.moved(Location((0, 0, 12.51))))


solid = part_1.part
